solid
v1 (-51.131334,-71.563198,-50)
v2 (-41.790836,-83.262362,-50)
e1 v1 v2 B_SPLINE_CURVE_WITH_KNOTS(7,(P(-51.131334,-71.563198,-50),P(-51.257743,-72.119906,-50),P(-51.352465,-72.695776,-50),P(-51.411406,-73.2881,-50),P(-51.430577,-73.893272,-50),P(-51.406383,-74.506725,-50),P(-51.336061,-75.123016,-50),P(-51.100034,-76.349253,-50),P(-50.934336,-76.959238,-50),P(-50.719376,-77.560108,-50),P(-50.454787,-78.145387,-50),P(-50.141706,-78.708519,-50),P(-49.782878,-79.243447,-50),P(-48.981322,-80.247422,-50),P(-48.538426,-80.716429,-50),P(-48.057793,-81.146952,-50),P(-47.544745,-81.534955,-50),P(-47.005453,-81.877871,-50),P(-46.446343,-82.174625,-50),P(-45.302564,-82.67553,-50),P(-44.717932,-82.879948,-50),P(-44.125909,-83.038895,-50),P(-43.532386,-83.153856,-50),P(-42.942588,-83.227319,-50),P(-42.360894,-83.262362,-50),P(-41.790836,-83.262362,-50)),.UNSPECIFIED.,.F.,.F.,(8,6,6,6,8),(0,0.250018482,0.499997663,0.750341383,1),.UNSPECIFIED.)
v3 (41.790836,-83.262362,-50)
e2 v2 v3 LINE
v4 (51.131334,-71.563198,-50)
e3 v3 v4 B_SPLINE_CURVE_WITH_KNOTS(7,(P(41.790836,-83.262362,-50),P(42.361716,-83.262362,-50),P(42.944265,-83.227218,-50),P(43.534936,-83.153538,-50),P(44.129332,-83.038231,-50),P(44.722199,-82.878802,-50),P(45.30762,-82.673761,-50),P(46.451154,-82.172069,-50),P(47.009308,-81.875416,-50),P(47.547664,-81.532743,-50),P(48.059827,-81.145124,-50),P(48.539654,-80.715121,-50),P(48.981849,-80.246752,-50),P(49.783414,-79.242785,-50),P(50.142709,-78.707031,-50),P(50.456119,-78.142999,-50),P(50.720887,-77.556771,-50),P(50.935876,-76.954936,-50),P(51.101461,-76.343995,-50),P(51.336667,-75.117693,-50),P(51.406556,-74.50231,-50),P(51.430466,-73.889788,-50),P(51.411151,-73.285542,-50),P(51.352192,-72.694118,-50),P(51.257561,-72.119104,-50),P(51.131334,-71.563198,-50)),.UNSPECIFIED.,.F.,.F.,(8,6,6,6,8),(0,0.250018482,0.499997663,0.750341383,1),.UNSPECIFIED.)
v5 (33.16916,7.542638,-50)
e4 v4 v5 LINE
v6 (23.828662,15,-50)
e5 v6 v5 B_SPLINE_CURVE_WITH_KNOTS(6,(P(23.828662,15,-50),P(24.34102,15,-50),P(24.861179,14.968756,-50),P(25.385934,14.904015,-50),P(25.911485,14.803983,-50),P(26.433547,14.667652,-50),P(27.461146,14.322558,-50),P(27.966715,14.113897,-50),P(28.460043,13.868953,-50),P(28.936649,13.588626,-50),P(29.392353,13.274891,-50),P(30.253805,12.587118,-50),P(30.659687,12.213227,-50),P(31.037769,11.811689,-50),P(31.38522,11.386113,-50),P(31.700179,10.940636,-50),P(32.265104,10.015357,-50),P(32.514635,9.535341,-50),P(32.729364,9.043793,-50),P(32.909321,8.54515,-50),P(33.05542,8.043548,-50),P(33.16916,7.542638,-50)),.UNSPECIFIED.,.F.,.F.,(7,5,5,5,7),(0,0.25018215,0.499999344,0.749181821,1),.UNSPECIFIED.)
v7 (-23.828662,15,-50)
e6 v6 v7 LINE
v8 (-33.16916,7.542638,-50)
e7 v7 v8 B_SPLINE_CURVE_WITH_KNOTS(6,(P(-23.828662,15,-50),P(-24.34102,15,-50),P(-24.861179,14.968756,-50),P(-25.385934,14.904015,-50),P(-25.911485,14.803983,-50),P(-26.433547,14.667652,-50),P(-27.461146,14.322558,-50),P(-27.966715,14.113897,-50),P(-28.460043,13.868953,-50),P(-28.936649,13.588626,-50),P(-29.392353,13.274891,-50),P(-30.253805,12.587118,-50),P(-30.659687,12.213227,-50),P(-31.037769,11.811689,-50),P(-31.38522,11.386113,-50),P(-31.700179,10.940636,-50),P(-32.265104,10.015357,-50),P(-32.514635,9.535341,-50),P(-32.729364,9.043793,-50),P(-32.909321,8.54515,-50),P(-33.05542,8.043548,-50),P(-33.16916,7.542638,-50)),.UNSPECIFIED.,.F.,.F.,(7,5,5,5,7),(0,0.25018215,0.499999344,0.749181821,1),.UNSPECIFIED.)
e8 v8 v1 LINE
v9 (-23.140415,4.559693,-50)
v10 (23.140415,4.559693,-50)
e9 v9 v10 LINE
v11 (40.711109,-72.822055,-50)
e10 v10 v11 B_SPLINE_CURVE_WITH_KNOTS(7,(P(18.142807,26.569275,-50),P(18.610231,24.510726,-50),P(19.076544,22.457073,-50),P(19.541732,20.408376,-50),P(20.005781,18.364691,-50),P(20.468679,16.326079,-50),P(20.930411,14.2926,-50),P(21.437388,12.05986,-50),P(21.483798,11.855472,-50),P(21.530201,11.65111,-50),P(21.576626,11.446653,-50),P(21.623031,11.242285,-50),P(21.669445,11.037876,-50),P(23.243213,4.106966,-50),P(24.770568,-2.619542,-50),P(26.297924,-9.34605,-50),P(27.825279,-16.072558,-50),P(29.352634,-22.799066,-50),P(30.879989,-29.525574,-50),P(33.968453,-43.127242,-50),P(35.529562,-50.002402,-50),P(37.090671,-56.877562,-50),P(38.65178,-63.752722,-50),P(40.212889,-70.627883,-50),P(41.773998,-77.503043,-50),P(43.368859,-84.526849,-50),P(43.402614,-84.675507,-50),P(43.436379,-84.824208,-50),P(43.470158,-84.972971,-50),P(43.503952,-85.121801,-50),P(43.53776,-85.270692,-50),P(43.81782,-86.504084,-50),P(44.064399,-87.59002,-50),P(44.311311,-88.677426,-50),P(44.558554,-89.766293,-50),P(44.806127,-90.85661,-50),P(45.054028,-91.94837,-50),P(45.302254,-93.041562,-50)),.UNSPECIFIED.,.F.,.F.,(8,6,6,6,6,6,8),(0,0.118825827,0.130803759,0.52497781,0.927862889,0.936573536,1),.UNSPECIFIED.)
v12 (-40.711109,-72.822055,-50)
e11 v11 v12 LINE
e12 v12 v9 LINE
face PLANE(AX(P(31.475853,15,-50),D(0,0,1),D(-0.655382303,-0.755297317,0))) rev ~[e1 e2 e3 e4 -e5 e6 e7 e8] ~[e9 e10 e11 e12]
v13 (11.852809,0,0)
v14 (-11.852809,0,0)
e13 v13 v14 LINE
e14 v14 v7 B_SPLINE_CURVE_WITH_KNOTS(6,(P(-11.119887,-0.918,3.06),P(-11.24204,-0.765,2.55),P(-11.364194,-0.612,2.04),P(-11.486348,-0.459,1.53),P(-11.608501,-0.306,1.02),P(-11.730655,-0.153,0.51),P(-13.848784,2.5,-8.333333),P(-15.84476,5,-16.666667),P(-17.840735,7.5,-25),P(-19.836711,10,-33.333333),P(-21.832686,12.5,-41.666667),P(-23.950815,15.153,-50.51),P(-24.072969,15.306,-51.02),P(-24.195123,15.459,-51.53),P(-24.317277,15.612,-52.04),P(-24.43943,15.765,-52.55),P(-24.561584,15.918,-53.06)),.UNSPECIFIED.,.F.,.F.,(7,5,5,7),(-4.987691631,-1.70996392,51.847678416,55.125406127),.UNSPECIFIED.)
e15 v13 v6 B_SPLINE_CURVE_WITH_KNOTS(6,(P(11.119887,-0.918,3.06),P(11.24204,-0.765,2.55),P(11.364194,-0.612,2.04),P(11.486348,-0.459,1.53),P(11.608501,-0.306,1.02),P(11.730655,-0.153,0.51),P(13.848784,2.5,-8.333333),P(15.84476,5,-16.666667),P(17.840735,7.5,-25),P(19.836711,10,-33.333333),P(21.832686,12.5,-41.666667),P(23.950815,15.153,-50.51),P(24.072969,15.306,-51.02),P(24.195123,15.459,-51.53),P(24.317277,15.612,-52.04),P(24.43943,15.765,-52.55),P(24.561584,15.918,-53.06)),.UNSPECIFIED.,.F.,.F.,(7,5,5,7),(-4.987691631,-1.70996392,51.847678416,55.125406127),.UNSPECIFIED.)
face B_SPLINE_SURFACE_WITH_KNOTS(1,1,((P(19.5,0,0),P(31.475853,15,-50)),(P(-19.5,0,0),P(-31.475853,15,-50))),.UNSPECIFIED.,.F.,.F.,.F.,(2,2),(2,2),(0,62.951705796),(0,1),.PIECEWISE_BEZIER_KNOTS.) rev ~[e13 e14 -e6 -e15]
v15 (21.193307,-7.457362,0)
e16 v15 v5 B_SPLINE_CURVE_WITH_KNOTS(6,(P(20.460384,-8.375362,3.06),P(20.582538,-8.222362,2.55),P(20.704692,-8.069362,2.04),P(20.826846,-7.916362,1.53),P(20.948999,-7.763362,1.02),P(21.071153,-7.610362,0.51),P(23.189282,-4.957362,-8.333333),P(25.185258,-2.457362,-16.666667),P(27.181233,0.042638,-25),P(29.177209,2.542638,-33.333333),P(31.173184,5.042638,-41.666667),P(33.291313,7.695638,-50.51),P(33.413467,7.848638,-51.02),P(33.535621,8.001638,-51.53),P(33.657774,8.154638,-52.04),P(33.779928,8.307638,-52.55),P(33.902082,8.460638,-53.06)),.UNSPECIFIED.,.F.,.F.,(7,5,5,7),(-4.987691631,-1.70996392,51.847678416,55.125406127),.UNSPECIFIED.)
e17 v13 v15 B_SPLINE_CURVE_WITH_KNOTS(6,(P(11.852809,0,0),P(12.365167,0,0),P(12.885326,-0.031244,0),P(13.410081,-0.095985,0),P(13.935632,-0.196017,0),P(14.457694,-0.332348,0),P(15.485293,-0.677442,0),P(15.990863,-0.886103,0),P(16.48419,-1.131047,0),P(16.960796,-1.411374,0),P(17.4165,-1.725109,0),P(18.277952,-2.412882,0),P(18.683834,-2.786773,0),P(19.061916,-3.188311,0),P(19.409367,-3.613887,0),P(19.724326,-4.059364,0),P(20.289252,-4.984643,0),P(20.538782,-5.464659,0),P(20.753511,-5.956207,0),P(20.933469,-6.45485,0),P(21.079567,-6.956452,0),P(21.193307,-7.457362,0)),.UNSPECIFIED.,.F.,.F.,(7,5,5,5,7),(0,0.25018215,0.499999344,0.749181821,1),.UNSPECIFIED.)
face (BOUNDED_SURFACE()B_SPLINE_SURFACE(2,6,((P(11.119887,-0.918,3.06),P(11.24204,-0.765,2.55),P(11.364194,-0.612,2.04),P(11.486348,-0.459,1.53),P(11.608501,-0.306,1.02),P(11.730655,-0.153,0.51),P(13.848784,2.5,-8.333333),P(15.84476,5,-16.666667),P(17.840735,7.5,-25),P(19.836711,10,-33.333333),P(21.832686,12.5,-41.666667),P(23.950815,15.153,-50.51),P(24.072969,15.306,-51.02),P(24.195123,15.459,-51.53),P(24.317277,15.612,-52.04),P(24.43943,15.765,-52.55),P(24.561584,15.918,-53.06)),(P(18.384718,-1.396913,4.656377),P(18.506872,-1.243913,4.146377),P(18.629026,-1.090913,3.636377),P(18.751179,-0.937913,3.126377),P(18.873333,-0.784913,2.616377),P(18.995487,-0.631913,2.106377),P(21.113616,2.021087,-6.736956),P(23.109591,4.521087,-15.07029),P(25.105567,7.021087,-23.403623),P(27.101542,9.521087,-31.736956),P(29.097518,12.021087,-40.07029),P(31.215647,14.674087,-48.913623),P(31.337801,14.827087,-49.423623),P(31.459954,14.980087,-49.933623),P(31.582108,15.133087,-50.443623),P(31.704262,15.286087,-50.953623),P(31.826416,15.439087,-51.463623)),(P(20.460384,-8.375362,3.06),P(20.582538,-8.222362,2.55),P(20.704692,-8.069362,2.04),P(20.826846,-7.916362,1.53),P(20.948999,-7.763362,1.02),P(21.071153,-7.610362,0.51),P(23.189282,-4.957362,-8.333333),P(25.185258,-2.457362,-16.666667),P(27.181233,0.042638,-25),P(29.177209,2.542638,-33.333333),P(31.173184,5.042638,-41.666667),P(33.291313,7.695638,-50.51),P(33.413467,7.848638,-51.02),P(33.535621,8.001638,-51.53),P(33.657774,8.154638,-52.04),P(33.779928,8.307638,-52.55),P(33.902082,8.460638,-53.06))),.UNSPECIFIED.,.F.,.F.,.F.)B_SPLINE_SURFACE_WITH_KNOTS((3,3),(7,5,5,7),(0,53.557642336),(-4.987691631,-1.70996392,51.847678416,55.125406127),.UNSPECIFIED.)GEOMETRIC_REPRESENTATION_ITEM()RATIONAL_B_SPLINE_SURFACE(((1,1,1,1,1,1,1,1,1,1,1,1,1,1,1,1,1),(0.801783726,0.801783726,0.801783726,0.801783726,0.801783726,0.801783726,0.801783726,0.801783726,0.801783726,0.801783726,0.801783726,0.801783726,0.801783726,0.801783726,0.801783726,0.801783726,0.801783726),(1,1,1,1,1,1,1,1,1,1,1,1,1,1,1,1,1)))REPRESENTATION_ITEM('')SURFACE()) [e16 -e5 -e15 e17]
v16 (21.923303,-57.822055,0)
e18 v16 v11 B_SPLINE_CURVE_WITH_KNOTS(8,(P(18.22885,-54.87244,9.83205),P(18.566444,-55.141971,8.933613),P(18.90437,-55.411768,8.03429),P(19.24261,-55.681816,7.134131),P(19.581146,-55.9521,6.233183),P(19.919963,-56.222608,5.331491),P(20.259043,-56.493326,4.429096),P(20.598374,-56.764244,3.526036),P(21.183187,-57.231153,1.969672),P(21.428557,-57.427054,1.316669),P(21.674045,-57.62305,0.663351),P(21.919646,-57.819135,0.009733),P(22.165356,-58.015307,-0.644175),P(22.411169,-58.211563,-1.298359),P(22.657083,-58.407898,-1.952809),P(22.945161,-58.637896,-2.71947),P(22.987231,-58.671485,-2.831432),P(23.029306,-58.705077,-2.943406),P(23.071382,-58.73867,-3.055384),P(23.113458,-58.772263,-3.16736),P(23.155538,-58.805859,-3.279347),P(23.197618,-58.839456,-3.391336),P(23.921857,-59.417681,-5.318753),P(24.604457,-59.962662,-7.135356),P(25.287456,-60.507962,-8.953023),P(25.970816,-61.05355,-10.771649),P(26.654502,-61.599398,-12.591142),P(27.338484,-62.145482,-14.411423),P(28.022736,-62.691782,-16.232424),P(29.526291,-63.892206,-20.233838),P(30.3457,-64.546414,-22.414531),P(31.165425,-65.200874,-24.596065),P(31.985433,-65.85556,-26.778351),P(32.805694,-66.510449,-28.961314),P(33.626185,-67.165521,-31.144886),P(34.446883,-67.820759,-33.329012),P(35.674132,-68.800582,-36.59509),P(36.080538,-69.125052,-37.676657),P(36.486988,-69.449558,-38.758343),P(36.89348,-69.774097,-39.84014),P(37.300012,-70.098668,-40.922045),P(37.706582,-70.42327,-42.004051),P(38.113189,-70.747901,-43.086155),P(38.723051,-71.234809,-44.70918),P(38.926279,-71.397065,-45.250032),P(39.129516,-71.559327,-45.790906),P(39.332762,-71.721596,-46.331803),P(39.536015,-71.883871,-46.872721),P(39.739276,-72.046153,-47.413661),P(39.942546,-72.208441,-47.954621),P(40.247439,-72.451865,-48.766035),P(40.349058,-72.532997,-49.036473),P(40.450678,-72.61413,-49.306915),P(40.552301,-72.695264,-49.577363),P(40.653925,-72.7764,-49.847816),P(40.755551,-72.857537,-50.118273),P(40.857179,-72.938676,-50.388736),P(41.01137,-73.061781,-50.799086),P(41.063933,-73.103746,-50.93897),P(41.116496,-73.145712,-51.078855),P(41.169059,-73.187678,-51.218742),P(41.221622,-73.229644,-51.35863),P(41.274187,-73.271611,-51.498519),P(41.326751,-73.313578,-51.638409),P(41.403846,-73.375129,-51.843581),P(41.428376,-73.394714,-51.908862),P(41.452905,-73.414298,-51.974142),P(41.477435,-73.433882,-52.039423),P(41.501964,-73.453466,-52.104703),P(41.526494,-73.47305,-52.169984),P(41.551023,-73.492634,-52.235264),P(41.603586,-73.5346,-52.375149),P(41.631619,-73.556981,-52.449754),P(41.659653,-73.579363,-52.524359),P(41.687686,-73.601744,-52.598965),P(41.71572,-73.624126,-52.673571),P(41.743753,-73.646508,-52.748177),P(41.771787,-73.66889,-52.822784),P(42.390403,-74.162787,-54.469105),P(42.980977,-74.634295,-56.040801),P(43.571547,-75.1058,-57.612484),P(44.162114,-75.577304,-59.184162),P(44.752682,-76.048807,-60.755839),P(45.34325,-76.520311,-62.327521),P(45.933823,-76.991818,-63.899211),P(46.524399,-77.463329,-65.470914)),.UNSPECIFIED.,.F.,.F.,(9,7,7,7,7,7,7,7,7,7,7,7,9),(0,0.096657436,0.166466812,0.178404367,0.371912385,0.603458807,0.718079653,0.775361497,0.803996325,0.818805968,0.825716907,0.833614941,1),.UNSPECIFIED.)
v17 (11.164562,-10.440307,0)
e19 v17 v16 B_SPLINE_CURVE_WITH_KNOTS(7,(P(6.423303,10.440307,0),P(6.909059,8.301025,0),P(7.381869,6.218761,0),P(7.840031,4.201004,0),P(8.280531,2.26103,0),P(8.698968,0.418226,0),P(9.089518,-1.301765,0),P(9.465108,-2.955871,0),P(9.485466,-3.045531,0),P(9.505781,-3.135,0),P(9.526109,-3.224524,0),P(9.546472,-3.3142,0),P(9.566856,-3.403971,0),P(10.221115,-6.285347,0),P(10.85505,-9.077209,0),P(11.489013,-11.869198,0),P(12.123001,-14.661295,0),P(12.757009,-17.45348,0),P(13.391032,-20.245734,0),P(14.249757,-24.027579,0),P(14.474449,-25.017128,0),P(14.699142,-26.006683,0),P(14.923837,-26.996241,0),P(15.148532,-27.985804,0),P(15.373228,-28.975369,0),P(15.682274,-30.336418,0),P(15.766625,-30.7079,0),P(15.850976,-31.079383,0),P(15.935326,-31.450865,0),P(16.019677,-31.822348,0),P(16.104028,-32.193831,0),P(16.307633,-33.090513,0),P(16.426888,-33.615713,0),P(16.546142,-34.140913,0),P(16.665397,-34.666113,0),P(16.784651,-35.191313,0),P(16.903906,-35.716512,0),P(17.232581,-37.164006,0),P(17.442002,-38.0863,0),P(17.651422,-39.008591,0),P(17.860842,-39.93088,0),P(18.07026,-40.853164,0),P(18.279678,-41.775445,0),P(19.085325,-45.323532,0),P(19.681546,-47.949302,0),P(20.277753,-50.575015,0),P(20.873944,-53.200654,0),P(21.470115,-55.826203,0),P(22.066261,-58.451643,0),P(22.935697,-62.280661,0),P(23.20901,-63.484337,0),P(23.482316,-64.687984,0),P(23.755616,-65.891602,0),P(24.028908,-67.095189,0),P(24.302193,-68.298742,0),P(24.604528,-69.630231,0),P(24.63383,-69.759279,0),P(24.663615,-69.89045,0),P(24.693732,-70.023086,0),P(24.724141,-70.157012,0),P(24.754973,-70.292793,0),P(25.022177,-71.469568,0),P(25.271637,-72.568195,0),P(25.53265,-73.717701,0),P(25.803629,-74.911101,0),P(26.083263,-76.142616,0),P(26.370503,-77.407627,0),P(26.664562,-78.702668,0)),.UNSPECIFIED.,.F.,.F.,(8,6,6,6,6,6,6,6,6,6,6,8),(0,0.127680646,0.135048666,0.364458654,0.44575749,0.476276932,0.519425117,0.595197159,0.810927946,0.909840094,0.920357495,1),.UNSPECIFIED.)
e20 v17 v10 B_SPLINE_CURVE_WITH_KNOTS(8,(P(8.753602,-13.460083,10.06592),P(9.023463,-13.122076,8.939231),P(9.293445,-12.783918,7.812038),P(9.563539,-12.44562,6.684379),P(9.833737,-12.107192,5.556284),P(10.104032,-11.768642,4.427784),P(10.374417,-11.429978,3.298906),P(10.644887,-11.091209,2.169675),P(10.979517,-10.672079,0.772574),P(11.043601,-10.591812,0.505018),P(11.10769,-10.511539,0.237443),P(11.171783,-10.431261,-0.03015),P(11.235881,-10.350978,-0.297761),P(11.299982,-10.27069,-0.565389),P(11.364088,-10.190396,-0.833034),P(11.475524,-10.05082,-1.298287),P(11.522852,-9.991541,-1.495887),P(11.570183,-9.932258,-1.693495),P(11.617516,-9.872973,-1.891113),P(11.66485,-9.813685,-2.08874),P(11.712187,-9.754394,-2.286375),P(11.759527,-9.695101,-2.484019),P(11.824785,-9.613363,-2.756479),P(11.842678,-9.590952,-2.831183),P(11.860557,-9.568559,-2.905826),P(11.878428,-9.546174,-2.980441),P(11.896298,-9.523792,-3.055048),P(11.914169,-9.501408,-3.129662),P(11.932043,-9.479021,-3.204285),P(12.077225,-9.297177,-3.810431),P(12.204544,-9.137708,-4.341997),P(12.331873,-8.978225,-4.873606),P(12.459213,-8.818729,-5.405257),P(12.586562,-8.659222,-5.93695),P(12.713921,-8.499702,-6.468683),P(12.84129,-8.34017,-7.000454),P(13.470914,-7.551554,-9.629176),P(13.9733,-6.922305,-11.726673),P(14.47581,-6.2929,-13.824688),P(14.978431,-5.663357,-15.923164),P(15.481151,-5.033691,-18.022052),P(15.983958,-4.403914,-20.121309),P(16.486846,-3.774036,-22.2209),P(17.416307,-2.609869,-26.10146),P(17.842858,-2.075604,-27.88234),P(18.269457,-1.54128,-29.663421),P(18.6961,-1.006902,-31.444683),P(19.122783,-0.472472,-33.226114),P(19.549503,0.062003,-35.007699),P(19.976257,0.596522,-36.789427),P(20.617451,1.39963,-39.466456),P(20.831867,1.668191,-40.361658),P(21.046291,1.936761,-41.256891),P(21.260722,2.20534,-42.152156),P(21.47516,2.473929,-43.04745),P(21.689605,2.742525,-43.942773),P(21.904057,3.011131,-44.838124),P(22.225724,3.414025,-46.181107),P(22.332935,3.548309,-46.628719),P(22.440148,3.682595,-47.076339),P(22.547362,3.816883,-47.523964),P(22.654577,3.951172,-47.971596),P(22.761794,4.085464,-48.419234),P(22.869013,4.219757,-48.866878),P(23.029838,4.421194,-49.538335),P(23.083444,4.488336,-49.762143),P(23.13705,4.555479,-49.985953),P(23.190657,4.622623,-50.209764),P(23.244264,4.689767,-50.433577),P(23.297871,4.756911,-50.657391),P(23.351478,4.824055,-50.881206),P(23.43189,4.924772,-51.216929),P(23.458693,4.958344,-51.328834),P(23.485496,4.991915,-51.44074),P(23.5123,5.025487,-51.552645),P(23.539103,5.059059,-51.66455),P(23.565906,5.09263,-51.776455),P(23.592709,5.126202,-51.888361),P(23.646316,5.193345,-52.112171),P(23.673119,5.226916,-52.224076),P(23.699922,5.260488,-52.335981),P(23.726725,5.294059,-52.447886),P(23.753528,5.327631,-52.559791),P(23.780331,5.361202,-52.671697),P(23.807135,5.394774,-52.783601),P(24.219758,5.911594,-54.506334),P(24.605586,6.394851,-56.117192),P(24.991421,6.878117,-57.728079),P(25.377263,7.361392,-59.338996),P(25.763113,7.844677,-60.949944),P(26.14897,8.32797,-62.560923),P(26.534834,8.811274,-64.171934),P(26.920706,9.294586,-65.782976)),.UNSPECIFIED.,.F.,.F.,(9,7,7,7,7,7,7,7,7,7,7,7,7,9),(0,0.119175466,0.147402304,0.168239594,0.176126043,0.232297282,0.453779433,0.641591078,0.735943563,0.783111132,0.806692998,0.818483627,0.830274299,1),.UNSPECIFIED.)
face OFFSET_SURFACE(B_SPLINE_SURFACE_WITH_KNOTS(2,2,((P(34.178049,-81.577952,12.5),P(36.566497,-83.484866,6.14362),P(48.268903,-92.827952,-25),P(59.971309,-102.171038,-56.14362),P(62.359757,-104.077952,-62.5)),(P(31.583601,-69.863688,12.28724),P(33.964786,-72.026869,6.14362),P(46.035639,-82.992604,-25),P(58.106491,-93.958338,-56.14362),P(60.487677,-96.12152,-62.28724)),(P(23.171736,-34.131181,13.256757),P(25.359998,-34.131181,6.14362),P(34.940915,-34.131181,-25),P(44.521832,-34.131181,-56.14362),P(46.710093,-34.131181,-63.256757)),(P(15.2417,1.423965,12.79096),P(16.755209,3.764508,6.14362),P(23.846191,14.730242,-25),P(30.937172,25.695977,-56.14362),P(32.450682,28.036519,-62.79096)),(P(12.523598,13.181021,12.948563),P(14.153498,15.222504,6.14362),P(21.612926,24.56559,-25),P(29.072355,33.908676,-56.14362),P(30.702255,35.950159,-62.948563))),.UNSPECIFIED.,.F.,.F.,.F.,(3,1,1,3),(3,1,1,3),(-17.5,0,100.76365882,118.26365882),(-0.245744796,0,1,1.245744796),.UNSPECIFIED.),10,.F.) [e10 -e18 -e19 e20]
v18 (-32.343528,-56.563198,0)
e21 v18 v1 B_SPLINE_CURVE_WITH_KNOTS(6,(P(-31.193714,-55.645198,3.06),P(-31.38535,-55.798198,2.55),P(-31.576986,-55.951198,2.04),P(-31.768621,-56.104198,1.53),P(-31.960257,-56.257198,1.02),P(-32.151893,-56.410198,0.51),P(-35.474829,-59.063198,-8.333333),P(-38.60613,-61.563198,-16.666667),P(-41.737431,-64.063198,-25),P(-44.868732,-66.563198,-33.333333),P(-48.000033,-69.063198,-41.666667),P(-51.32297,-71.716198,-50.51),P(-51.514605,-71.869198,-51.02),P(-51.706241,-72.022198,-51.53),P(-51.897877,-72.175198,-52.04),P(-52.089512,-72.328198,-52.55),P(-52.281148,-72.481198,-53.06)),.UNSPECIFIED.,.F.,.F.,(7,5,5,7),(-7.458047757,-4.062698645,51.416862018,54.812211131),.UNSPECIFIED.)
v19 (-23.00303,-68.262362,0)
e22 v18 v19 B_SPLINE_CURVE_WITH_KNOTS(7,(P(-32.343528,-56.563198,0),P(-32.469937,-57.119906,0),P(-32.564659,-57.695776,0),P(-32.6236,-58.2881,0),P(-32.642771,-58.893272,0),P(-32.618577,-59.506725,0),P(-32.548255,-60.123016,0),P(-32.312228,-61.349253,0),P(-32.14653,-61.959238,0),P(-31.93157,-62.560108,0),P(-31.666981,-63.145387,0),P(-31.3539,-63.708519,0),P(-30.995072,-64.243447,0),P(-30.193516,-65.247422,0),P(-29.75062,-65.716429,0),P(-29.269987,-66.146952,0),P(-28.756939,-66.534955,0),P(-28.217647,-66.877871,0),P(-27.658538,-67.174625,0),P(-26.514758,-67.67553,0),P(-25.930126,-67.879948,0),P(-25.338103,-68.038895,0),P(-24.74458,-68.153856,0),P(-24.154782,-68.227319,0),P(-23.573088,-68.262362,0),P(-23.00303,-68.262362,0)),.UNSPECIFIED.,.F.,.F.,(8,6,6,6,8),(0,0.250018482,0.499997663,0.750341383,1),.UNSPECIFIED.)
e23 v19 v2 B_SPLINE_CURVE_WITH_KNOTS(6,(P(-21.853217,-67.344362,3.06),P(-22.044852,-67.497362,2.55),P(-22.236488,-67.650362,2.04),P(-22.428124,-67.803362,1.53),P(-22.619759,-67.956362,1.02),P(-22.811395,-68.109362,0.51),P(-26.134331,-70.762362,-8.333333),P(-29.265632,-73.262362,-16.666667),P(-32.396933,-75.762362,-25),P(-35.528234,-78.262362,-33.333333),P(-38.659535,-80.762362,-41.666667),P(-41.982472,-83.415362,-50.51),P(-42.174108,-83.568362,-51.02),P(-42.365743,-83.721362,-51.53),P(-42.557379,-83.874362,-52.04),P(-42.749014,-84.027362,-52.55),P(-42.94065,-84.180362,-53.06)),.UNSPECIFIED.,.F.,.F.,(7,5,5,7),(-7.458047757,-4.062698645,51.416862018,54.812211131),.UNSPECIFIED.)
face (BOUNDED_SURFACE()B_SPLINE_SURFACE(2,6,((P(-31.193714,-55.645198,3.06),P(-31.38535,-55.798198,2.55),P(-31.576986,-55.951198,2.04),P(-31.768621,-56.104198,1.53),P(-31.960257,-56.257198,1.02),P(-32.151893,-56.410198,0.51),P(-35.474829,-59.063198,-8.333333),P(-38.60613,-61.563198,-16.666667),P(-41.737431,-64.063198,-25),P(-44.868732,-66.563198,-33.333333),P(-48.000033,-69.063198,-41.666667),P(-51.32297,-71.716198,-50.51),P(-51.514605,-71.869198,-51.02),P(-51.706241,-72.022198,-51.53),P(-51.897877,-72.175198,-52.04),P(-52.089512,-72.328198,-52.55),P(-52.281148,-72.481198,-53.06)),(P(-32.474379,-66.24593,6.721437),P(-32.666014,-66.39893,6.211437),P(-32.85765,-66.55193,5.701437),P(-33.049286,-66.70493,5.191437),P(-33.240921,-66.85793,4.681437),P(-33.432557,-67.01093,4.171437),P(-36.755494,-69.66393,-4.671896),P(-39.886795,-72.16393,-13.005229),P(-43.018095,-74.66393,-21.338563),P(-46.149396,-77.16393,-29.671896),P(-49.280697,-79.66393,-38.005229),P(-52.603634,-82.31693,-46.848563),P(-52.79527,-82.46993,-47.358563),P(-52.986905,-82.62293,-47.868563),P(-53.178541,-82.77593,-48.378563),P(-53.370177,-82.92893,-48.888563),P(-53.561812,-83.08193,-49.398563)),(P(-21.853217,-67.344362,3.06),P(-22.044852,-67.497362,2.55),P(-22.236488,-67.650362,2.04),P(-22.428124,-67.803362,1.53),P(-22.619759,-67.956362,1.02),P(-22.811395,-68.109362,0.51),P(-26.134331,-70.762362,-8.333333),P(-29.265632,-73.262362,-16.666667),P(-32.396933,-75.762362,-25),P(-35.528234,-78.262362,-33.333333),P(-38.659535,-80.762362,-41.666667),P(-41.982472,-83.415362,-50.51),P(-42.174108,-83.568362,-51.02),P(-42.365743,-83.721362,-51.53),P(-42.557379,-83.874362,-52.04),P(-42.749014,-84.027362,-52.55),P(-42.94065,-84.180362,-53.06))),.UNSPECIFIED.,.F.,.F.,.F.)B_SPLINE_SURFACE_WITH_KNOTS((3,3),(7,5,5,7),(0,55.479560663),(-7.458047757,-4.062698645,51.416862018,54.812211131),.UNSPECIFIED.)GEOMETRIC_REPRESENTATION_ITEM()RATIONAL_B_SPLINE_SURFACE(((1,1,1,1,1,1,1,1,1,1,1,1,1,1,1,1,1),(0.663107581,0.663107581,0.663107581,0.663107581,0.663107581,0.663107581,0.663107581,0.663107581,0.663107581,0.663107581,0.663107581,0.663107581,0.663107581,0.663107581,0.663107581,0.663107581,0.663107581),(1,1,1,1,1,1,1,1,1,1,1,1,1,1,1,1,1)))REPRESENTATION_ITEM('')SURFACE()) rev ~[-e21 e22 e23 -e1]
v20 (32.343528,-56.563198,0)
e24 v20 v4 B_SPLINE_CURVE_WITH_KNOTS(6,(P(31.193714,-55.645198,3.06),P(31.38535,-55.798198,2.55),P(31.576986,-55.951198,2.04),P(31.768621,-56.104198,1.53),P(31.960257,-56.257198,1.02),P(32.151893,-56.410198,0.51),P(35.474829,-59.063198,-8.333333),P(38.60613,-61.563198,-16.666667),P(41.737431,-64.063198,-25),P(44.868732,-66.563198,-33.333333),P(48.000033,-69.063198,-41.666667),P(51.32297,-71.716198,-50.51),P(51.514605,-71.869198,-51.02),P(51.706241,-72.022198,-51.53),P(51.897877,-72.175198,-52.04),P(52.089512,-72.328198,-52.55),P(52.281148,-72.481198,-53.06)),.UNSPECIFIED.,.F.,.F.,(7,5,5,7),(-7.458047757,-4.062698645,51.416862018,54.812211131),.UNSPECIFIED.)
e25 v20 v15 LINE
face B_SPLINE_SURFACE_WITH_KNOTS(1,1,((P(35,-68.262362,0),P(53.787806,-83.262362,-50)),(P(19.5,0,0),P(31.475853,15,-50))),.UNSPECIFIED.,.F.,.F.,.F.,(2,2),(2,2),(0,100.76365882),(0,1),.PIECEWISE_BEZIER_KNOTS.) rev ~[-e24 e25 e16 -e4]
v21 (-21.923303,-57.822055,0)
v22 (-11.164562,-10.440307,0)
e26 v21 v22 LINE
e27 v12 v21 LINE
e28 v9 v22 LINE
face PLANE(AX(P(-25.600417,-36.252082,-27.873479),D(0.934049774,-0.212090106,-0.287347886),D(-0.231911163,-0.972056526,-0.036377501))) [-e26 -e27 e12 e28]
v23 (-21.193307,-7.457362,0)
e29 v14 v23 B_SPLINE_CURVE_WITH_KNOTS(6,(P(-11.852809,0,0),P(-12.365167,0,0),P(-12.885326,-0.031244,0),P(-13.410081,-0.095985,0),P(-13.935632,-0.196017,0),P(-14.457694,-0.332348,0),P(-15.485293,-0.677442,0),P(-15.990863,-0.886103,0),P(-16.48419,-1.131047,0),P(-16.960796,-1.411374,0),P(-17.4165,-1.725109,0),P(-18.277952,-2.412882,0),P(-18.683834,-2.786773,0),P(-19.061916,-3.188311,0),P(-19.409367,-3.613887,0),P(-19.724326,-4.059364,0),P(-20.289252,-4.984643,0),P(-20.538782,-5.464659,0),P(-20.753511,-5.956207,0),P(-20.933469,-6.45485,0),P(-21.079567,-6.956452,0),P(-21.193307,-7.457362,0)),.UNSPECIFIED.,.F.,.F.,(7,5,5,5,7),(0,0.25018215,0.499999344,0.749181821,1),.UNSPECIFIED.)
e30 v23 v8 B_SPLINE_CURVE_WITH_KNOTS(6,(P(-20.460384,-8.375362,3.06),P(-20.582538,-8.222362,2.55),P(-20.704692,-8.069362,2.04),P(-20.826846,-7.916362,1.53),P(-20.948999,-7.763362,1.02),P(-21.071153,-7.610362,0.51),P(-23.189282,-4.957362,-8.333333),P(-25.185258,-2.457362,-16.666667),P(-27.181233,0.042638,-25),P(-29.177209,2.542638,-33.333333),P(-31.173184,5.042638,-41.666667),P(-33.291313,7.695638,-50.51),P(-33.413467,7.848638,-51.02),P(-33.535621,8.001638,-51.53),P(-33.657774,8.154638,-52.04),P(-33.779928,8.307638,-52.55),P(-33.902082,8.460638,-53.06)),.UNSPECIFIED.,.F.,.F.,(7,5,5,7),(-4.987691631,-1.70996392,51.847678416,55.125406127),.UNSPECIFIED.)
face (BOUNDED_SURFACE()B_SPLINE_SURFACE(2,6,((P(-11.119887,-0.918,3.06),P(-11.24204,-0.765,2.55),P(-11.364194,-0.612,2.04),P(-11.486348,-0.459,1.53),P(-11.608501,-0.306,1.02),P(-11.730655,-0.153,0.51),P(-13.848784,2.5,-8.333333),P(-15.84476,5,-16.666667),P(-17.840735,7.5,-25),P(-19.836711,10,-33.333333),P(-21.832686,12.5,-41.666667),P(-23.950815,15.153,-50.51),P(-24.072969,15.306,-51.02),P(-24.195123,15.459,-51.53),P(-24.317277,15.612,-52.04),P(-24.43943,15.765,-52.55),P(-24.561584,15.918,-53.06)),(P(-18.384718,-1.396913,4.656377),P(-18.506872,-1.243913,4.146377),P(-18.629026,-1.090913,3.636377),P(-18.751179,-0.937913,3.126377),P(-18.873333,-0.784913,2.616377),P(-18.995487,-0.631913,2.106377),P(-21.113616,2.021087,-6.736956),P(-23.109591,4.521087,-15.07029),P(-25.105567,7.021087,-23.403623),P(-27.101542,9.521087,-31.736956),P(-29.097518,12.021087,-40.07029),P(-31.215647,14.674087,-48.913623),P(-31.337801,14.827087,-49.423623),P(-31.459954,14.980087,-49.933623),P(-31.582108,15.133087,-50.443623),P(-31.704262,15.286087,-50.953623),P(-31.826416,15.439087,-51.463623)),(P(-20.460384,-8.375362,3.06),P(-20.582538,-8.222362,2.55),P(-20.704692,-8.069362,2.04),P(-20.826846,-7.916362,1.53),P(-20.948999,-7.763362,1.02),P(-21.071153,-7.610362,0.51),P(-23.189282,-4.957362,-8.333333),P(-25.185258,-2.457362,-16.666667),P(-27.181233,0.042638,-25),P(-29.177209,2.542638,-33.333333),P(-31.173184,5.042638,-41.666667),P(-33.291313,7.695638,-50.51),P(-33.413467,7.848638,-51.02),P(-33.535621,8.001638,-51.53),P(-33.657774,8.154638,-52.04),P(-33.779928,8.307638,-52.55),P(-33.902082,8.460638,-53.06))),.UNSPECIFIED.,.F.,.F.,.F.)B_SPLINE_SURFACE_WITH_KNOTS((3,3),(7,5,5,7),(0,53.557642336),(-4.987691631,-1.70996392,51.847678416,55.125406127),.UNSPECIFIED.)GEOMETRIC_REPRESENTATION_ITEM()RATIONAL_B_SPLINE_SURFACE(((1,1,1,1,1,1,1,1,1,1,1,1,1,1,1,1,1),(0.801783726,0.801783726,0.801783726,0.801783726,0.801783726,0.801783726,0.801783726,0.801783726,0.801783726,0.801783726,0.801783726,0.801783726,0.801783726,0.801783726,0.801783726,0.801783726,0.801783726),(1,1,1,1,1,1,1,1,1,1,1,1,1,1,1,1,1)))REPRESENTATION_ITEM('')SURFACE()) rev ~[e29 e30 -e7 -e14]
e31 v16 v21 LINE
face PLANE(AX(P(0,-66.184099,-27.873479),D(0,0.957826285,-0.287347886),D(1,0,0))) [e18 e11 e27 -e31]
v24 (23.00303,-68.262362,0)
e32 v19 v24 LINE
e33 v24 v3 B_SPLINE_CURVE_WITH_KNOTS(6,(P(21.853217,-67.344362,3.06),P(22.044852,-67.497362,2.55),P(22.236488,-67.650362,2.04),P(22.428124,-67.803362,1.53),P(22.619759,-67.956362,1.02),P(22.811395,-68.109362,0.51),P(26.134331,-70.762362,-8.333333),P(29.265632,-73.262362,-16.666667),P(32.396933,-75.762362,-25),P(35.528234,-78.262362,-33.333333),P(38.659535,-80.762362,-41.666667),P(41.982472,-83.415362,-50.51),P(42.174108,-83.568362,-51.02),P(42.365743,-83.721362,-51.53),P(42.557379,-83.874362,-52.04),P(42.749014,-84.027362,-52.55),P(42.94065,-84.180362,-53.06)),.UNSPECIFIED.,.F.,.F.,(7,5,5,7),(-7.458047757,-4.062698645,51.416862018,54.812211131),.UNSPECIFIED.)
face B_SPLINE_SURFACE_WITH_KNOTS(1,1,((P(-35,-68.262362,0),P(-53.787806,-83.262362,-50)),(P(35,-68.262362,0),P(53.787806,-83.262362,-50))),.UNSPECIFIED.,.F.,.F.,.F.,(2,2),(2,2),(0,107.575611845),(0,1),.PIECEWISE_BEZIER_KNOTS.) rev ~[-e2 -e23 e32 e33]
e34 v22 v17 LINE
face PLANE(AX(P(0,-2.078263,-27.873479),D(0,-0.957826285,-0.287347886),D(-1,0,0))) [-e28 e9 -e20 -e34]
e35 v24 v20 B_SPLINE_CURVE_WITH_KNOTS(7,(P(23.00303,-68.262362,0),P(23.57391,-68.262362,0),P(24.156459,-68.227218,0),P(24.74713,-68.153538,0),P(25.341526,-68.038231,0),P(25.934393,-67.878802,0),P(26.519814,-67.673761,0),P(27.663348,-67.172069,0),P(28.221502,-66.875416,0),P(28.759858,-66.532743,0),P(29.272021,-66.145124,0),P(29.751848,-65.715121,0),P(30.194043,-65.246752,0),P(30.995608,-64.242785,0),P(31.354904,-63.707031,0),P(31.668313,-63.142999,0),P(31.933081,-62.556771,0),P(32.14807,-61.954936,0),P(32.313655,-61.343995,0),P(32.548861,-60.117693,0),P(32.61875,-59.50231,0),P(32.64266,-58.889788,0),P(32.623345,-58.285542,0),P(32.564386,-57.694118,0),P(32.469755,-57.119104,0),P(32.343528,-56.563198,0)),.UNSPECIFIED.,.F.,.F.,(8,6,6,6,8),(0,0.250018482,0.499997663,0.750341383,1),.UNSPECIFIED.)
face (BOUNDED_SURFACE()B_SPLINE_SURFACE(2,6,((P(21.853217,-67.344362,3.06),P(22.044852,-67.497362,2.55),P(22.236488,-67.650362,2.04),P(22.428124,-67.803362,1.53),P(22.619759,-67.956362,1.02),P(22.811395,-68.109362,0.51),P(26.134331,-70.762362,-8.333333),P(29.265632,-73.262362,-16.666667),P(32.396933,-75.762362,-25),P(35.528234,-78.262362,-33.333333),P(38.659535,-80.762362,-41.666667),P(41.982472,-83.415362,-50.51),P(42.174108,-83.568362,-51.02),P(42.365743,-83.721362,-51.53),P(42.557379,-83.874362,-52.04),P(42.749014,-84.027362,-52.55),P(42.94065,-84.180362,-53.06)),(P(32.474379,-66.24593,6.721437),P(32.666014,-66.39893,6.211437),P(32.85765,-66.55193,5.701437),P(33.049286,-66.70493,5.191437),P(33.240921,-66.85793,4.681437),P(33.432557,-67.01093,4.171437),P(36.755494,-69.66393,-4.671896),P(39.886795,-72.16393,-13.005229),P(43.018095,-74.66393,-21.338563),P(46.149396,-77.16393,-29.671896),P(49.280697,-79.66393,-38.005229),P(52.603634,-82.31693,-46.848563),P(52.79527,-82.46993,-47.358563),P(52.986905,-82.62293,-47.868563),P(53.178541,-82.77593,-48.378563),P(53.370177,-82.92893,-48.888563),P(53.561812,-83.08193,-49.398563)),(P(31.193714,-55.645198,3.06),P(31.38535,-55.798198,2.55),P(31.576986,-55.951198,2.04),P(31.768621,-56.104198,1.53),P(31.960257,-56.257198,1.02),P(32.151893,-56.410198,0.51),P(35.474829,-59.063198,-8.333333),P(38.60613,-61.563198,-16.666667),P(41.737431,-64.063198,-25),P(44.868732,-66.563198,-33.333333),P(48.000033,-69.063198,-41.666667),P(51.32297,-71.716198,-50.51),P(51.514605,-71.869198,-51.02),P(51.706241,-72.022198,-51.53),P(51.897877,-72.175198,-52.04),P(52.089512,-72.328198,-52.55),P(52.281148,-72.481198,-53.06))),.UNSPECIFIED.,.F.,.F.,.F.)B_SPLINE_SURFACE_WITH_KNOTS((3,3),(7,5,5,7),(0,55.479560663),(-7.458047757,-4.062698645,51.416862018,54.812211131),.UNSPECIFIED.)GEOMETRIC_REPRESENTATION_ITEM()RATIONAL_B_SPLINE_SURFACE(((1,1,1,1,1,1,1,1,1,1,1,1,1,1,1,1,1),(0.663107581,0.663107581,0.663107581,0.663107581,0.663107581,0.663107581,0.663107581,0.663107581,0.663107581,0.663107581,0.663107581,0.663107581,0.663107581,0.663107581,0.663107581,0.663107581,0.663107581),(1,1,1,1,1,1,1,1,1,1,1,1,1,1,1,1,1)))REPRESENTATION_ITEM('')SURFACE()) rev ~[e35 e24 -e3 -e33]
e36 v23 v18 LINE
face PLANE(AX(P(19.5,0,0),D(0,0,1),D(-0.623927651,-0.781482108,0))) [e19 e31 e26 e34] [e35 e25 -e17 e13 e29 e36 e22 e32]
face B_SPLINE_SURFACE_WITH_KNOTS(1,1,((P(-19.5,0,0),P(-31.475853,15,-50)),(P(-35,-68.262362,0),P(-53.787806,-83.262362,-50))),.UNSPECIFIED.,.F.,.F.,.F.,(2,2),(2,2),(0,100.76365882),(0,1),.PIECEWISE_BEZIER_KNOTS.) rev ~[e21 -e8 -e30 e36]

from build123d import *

# Parameters (mm, degrees)
F4_T = -10
F5_R = 10


with BuildPart() as f3:
    # F0 (on Top) → F3 section 0
    with BuildSketch(Plane.XY):
        Polygon((19.5, 0), (0, 0), (-19.5, 0), (-35, -68.2623615179), (0, -68.2623615179), (35, -68.2623615179), align=None)
    # F2 (on offset) → F3 section 1
    with BuildSketch(Plane.XY.offset(-50)):
        Polygon((0, -83.2623615179), (53.7878059224, -83.2623615179), (31.4758528979, 15), (0, 15), (-31.4758528979, 15), (-53.7878059224, -83.2623615179), align=None)
    loft()

    # F4
    f4_openings = [f3.faces().sort_by_distance(p)[0] for p in [
        (0, -37.366858, 0),
        (0, -38.41676, -50),
    ]]
    offset(amount=F4_T, openings=f4_openings, kind=Kind.INTERSECTION)

    # F5
    f5_edges = [f3.edges().sort_by_distance(p)[0] for p in [
        (-25.487926, 7.5, -25),
        (-44.393903, -75.762362, -25),
        (44.393903, -75.762362, -25),
        (25.487926, 7.5, -25),
    ]]
    fillet(f5_edges, radius=F5_R)


solid = f3.part
